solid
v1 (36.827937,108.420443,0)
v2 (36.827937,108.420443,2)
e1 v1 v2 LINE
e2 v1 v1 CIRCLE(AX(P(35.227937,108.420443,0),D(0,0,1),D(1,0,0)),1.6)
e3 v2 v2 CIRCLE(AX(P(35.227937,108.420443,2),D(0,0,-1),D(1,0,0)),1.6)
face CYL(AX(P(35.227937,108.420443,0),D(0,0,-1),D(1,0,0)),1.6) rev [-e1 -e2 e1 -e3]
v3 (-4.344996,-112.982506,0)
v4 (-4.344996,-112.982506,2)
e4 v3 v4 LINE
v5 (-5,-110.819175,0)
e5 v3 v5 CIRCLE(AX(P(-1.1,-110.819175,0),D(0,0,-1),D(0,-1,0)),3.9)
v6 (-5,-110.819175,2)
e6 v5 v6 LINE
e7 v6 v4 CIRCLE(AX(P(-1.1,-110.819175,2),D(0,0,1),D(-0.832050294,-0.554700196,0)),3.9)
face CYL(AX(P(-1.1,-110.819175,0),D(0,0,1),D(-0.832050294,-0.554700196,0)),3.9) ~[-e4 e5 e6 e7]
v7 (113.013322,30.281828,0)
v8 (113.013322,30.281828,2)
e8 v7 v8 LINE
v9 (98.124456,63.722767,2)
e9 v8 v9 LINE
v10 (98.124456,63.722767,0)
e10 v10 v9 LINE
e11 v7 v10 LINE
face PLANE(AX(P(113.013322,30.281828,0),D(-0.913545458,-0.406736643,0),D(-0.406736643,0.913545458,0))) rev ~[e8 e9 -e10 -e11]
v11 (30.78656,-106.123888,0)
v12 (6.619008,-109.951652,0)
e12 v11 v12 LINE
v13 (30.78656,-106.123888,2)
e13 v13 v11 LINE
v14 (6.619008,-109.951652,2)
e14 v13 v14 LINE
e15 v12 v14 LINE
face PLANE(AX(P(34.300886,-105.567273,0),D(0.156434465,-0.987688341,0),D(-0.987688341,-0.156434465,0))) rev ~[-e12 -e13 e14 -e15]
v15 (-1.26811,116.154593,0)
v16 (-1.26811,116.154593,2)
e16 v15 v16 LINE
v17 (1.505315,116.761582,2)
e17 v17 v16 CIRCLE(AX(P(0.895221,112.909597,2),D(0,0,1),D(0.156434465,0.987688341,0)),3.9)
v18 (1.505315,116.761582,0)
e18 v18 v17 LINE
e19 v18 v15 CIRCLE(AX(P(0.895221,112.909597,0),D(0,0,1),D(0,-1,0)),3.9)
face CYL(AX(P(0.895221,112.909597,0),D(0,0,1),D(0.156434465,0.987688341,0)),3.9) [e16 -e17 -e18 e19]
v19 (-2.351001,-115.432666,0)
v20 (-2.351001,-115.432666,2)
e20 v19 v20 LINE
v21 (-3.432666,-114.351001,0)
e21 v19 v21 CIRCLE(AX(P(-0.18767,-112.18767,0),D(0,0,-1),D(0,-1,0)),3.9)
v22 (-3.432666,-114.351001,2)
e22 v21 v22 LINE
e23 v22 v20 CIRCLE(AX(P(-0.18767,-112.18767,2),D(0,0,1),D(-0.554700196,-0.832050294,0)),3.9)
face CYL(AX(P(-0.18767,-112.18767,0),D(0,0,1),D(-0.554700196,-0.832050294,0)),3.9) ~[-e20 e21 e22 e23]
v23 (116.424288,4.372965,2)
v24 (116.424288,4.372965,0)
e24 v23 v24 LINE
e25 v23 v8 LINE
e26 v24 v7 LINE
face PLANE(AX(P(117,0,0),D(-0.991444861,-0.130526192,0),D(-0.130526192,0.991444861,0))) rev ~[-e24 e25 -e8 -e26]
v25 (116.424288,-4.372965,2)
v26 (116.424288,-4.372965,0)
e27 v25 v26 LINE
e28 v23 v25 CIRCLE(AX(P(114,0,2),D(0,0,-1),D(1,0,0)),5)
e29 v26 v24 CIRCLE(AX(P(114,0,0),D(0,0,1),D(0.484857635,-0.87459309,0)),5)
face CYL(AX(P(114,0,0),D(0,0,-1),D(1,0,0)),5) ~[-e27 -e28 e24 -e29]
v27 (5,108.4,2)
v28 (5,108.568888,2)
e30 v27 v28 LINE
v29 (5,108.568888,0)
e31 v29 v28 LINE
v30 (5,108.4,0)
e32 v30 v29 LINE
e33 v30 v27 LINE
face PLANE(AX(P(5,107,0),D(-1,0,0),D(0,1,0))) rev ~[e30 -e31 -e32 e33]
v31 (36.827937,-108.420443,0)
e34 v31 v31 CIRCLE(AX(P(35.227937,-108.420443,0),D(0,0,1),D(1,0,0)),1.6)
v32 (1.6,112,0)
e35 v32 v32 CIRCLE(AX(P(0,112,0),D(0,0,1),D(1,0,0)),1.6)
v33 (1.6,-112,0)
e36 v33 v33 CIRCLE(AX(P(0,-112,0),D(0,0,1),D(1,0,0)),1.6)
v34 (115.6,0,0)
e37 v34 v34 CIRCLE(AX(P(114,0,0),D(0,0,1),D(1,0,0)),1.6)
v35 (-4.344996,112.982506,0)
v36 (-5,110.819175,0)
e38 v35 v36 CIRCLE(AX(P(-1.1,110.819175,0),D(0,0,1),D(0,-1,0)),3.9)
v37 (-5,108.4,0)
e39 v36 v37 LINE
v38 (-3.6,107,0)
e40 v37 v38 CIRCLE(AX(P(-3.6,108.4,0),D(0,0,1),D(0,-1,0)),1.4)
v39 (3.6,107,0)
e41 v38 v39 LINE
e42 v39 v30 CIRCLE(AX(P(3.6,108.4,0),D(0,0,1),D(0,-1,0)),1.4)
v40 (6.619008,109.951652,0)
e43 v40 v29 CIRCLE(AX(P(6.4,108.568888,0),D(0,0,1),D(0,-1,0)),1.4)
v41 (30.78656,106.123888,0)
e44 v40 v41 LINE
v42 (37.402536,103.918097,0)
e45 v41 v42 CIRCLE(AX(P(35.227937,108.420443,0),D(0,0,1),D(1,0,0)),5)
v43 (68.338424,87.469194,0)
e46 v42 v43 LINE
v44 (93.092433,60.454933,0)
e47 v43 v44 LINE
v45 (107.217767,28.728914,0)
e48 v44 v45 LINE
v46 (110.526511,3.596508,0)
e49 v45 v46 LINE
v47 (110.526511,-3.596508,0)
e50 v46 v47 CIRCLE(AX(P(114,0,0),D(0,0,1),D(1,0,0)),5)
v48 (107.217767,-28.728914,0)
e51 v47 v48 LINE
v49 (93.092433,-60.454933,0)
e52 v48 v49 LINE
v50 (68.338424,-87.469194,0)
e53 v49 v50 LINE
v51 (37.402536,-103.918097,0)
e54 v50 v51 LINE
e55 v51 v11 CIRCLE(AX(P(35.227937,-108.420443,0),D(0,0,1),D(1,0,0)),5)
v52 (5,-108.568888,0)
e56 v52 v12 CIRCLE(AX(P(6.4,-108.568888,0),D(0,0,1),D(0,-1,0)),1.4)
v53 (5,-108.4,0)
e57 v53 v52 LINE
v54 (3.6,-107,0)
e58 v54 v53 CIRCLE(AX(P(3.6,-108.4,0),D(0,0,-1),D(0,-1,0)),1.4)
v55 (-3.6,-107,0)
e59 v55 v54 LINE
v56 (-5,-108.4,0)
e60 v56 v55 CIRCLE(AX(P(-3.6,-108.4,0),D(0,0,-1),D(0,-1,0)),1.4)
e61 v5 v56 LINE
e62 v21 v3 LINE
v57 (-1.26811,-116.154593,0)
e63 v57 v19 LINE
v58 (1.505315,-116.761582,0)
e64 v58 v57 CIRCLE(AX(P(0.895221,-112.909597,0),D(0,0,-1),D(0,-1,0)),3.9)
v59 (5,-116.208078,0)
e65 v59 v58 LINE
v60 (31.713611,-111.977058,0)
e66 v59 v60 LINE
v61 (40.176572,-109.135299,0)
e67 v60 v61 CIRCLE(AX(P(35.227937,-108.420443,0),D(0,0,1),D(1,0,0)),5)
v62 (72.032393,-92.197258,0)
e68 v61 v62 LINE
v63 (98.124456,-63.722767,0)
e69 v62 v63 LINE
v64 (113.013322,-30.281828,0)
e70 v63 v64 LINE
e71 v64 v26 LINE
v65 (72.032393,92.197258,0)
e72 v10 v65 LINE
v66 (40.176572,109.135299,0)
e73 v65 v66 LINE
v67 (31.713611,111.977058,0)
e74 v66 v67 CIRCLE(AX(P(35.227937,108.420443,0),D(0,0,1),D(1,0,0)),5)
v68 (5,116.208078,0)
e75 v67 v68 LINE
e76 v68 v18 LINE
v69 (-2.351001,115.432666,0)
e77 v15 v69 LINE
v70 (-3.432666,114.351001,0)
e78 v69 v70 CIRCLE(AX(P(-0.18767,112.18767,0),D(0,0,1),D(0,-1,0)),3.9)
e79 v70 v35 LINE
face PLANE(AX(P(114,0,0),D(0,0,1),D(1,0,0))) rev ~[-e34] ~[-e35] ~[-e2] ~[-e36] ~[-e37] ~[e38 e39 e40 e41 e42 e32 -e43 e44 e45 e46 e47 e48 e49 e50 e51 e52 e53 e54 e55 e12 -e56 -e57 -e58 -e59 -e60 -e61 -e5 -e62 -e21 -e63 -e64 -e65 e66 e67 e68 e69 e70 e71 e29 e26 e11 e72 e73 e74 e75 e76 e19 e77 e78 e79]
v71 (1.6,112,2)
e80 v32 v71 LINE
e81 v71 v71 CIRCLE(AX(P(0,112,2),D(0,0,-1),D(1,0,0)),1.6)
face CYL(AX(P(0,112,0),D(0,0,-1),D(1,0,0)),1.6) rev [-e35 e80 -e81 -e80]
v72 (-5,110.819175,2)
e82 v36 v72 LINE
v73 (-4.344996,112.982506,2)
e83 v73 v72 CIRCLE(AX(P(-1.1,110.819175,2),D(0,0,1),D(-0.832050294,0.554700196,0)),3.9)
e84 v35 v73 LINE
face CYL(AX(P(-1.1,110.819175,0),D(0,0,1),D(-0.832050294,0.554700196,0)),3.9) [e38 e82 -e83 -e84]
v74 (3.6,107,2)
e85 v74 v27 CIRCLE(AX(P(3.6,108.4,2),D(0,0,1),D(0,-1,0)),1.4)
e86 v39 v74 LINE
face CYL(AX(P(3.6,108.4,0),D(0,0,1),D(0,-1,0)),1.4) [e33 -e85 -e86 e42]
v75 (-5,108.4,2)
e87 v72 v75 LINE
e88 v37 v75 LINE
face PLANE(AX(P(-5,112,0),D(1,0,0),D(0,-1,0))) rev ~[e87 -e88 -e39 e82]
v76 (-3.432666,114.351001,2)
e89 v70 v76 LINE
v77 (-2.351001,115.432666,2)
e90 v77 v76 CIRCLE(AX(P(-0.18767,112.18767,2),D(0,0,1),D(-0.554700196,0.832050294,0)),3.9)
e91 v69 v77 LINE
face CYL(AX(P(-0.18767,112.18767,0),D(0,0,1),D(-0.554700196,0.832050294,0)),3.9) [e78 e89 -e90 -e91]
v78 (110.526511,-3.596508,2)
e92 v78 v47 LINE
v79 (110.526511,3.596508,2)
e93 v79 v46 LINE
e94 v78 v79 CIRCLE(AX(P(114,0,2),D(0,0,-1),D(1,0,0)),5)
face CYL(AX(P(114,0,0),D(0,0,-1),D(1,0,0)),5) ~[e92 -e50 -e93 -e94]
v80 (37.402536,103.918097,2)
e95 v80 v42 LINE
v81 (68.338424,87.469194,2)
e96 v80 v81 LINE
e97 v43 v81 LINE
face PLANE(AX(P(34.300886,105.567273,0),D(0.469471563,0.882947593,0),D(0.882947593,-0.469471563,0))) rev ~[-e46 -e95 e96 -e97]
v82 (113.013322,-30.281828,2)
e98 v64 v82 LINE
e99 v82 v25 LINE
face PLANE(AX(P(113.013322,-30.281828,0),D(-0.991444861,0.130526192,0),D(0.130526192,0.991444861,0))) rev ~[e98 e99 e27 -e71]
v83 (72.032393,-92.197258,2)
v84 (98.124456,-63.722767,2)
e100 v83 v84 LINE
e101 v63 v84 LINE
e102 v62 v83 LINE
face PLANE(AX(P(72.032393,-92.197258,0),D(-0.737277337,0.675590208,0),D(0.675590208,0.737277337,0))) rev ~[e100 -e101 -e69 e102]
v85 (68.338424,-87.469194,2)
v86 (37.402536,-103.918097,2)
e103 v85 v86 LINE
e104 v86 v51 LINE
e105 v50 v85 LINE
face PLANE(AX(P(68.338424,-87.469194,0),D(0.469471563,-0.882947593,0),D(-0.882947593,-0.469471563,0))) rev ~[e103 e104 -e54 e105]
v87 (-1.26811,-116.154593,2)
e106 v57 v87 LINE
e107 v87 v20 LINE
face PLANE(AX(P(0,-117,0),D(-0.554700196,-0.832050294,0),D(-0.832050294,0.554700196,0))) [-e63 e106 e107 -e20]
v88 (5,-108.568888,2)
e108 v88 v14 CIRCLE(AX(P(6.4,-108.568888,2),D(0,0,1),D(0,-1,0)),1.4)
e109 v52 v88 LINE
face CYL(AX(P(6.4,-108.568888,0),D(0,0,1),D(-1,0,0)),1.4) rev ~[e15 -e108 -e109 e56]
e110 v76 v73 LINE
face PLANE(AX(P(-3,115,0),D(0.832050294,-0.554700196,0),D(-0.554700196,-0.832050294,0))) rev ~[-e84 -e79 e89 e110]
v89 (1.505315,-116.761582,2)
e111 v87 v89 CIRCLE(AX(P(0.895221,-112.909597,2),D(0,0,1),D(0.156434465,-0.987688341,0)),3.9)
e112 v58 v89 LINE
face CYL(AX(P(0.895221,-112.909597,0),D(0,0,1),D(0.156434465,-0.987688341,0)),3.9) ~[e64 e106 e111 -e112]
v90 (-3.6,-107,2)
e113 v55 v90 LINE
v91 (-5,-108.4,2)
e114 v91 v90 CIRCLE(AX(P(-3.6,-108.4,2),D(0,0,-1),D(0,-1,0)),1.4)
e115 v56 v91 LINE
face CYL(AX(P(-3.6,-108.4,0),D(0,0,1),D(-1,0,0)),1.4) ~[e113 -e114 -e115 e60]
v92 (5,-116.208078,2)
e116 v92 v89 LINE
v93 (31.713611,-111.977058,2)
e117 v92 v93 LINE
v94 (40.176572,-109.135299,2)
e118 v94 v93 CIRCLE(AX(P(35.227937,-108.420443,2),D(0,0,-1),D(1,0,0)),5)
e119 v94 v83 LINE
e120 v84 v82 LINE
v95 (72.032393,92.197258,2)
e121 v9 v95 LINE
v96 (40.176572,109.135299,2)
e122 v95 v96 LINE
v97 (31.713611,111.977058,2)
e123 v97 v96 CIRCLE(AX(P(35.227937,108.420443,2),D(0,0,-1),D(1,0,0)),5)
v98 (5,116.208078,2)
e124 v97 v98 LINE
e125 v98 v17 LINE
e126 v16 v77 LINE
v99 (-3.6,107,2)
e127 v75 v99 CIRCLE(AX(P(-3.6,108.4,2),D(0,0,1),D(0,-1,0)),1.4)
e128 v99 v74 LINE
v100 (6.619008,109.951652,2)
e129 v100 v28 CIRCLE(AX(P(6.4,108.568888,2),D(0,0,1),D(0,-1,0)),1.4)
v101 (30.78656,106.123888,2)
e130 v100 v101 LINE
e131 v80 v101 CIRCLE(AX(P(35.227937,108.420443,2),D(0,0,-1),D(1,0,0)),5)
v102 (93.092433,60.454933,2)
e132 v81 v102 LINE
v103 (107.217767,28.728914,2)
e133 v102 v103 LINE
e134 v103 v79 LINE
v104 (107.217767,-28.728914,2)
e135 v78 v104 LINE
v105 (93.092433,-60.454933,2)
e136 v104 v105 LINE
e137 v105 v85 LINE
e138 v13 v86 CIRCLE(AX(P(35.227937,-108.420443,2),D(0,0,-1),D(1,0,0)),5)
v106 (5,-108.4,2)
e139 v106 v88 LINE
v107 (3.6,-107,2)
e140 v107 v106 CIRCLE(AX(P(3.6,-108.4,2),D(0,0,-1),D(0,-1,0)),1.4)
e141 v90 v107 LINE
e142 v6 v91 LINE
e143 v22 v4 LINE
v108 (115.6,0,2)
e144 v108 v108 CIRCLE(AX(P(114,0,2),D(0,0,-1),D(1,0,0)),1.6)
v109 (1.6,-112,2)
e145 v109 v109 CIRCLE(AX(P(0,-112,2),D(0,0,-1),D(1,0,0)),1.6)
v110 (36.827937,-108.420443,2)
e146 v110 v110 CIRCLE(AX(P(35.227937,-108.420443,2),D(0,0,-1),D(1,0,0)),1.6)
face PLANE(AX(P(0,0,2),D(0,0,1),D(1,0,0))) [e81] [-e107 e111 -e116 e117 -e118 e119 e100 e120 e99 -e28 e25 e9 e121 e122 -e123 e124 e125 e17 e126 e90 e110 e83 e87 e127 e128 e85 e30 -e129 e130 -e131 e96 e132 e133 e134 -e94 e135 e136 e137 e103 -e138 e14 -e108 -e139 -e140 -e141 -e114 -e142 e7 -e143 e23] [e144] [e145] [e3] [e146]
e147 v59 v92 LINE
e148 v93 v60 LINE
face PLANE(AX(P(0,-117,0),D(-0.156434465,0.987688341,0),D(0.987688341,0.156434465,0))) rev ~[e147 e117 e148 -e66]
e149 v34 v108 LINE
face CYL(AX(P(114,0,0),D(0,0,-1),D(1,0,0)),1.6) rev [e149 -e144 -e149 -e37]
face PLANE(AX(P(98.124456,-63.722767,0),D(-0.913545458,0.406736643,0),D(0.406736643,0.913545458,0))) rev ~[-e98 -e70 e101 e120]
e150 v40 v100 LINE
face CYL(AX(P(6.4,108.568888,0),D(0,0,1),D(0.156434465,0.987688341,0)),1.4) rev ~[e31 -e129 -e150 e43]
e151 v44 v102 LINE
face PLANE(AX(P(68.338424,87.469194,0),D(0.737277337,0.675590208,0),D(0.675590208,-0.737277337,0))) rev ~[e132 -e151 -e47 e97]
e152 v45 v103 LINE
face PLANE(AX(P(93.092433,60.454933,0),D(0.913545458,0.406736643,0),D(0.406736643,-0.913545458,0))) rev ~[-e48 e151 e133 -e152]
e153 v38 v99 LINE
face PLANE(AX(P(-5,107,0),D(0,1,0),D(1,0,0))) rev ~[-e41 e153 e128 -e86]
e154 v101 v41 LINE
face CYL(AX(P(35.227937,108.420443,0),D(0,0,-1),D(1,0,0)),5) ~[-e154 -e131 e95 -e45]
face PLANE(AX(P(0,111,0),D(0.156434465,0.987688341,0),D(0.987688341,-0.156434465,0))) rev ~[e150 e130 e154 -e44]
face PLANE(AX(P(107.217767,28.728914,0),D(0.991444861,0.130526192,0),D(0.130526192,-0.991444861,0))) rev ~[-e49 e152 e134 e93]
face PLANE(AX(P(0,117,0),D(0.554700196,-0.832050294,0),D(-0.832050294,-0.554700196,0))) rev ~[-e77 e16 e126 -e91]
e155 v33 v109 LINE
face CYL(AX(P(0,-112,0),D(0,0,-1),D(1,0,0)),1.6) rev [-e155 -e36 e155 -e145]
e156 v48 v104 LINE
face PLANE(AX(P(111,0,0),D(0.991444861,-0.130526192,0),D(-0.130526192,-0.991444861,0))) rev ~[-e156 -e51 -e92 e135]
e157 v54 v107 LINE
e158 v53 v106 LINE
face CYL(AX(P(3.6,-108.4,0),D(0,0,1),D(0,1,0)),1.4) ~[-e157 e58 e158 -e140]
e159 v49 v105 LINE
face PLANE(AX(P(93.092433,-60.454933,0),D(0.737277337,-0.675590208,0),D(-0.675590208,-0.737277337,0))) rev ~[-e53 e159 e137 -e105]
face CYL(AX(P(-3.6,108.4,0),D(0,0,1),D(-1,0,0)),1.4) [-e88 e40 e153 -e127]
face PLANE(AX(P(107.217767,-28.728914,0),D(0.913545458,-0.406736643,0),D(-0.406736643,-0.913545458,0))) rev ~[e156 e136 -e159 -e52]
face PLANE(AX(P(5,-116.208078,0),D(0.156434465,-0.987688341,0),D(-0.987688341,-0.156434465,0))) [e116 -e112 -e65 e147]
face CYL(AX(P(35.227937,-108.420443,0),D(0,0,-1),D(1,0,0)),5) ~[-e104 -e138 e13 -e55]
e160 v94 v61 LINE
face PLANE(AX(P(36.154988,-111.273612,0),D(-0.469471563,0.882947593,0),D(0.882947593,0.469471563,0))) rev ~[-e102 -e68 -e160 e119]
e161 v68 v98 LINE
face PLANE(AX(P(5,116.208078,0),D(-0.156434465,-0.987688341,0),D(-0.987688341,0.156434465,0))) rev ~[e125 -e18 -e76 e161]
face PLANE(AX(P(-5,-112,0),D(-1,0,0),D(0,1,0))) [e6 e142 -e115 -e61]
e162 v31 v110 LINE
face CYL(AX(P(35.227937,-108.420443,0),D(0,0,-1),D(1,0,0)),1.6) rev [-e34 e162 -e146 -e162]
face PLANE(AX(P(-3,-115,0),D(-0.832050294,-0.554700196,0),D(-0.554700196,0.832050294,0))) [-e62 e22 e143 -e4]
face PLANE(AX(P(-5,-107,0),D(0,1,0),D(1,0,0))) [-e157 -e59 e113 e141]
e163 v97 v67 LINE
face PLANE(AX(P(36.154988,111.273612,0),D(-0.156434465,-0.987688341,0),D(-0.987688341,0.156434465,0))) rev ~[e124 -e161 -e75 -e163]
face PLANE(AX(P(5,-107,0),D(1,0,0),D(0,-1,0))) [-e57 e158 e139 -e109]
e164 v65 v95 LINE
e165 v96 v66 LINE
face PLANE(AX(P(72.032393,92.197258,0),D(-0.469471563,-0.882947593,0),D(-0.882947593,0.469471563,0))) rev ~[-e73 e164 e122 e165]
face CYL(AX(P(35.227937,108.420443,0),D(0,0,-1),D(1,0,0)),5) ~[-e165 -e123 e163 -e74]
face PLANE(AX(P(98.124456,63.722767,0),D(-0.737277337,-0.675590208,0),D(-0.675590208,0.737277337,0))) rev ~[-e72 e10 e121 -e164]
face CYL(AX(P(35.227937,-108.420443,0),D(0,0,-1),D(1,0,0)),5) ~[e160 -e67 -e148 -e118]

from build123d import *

# Parameters (mm, degrees)
EXTRUDE_180_DEPTH      = 8
EXTRUDE_START          = 8
SKETCH_2_W             = 6
SKETCH_2_H             = 4
EXTRUDE_457_DEPTH      = 36
EXTRUDE_START_2        = 44
EXTRUDE_180_2_DEPTH    = 3
SKETCH_4_R             = 20
SKETCH_4_R_2           = 4
EXTRUDE_692_DEPTH      = 3
EXTRUDE_745_DEPTH      = 3
EXTRUDE_1_DEPTH        = 3
EXTRUDE_Y_1_DEPTH      = 3
EXTRUDE_1_2_DEPTH      = 3
EXTRUDE_Y_1_2_DEPTH    = 3
CUT_EXTRUDE_START      = 44
CUT_EXTRUDE_1134_DEPTH = 3
SKETCH_11_R            = 5
EXTRUDE_1203_DEPTH     = 3
EXTRUDE_1416_DEPTH     = 8
SKETCH_13_R            = 1.6
CUT_EXTRUDE_1487_DEPTH = 3
SKETCH_14_R            = 1.6
CUT_EXTRUDE_1548_DEPTH = 8
CUT_EXTRUDE_START_2    = 8
SKETCH_15_W            = 600
SKETCH_15_H            = 600
CUT_EXTRUDE_1608_DEPTH = 60
F_2MM_DEPTH            = 8
SKETCH_17_R            = 5
EXTRUDE_M3_DEPTH       = 8
SKETCH_18_R            = 5
EXTRUDE_3_DEPTH        = 8
SKETCH_19_R            = 5
EXTRUDE_4_DEPTH        = 8
SKETCH_20_R            = 1.6
CUT_EXTRUDE_M3_DEPTH   = 8
F_40MM_4MM_D6P2_START  = 4
SKETCH_21_R            = 3.1
F_40MM_4MM_D6P2_DEPTH  = 4
R3P9_R                 = 3.9
F_2MM_0_2_START        = 2
SKETCH_22_W            = 600
SKETCH_22_H            = 600
F_2MM_0_2_DEPTH        = 8
FILLET_4_R             = 1.4


with BuildPart() as part:
    # 草图1 → Extrude 180 (new body)
    with BuildSketch(Plane.XY):
        Polygon((0, -115), (35.536954353, -109.371499374), (70.801069662, -90.621236665), (96.447115314, -62.633489027), (111.081470023, -29.764190187), (115, 0), (111.081470023, 29.764190187), (96.447115314, 62.633489027), (70.801069662, 90.621236665), (35.536954353, 109.371499374), (0, 115), (0, 111), (34.300886376, 105.567273309), (68.338423761, 87.46919365), (93.092433042, 60.454932887), (107.217766718, 28.728914006), (111, 0), (107.217766718, -28.728914006), (93.092433042, -60.454932887), (68.338423761, -87.46919365), (34.300886376, -105.567273309), (0, -111), align=None)
    extrude(amount=EXTRUDE_180_DEPTH)

    # 草图2 → Extrude 457 (add)
    with BuildSketch(Plane.XY.offset(EXTRUDE_START)):
        Polygon((35.584965419, -103.047126287), (37.439067386, -108.753465385), (33.634841321, -109.989533363), (31.780739354, -104.283194265), align=None)
        with Locations((112, 0)):
            Rectangle(SKETCH_2_W, SKETCH_2_H)
        Polygon((31.780739354, 104.283194265), (33.634841321, 109.989533363), (37.439067386, 108.753465385), (35.584965419, 103.047126287), align=None)
    extrude(amount=EXTRUDE_457_DEPTH)

    # 草图3 → Extrude 180 2 (add)
    with BuildSketch(Plane.XY.offset(EXTRUDE_START_2)):
        Polygon((0, -115), (35.536954353, -109.371499374), (70.801069662, -90.621236665), (96.447115314, -62.633489027), (111.081470023, -29.764190187), (115, 0), (111.081470023, 29.764190187), (96.447115314, 62.633489027), (70.801069662, 90.621236665), (35.536954353, 109.371499374), (0, 115), (0, 109), (33.682852387, 103.665160276), (67.10710081, 85.893172143), (91.415091906, 59.365654817), (105.285915066, 28.211275916), (109, 0), (105.285915066, -28.211275916), (91.415091906, -59.365654817), (67.10710081, -85.893172143), (33.682852387, -103.665160276), (0, -109), align=None)
    extrude(amount=EXTRUDE_180_2_DEPTH)



with BuildPart() as body_2:
    # 草图4 → Extrude 692 (new body)
    with BuildSketch(Plane.XY.offset(EXTRUDE_START_2)):
        Circle(SKETCH_4_R)
        Circle(SKETCH_4_R_2, mode=Mode.SUBTRACT)
    extrude(amount=EXTRUDE_692_DEPTH)


with BuildPart() as part_1:
    add(part.part)

    add(body_2.part)  # Extrude 745 merges body 2
    # 草图5 → Extrude 745 (add)
    with BuildSketch(Plane.XY.offset(EXTRUDE_START_2)):
        Polygon((17, -9), (113, -2.5), (113, 2.5), (17, 9), align=None)
    extrude(amount=EXTRUDE_745_DEPTH)

    # 草图6 → Extrude 1 (add)
    with BuildSketch(Plane.XY.offset(EXTRUDE_START_2)):
        Polygon((-5.736735419, -8.734652509), (31.330903272, -107.096180364), (26.669096728, -108.903819636), (-12.263264581, -11.265347491), align=None)
    extrude(amount=EXTRUDE_1_DEPTH)

    # 草图7 → Extrude Y__-1 (add)
    with BuildSketch(Plane.XY.offset(EXTRUDE_START_2)):
        Polygon((60.213265383, 1.279918343), (91.234949037, -66.240061243), (87.165050963, -68.159938757), (54.786734617, -1.279918343), align=None)
    extrude(amount=EXTRUDE_Y_1_DEPTH)

    # 草图8 → Extrude 1 2 (add)
    with BuildSketch(Plane.XY.offset(EXTRUDE_START_2)):
        Polygon((-12.263264581, 11.265347491), (26.669096728, 108.903819636), (31.330903272, 107.096180364), (-5.736735419, 8.734652509), align=None)
    extrude(amount=EXTRUDE_1_2_DEPTH)

    # 草图9 → Extrude Y__1 2 (add)
    with BuildSketch(Plane.XY.offset(EXTRUDE_START_2)):
        Polygon((54.786734617, 1.279918343), (87.165050963, 68.159938757), (91.234949037, 66.240061243), (60.213265383, -1.279918343), align=None)
    extrude(amount=EXTRUDE_Y_1_2_DEPTH)

    # 草图10 → Cut-Extrude 1134 (cut)
    with BuildSketch(Plane.XY.offset(CUT_EXTRUDE_START)):
        Polygon((18, -4.5), (18, 4.5), (80.33, 0), align=None)
    extrude(amount=CUT_EXTRUDE_1134_DEPTH, mode=Mode.SUBTRACT)

    # 草图11 → Extrude 1203 (add)
    with BuildSketch(Plane.XY.offset(EXTRUDE_START_2)):
        with Locations((0, 112)):
            Circle(SKETCH_11_R)
        with Locations((0, -112)):
            Circle(SKETCH_11_R)
    extrude(amount=EXTRUDE_1203_DEPTH)

    # 草图12 → Extrude 1416 (add)
    with BuildSketch(Plane.XY):
        Polygon((-5, -107), (5, -107), (5, -116.208077798), (0, -117), (-3, -115), (-5, -112), align=None)
        Polygon((-5, 107), (5, 107), (5, 116.208077798), (0, 117), (-3, 115), (-5, 112), align=None)
    extrude(amount=EXTRUDE_1416_DEPTH)

    # 草图13 → Cut-Extrude 1487 (cut)
    with BuildSketch(Plane.XY.offset(CUT_EXTRUDE_START)):
        with Locations((13.435028843, 0)):
            Circle(SKETCH_13_R)
        with Locations((-13.435028843, 0)):
            Circle(SKETCH_13_R)
        with Locations((0, 13.435028843)):
            Circle(SKETCH_13_R)
        with Locations((0, -13.435028843)):
            Circle(SKETCH_13_R)
        with Locations((0, 112)):
            Circle(SKETCH_13_R)
        with Locations((0, -112)):
            Circle(SKETCH_13_R)
    extrude(amount=CUT_EXTRUDE_1487_DEPTH, mode=Mode.SUBTRACT)

    # 草图14 → Cut-Extrude 1548 (cut)
    with BuildSketch(Plane.XY):
        with Locations((0, 112)):
            Circle(SKETCH_14_R)
        with Locations((0, -112)):
            Circle(SKETCH_14_R)
    extrude(amount=CUT_EXTRUDE_1548_DEPTH, mode=Mode.SUBTRACT)

    # 草图15 → Cut-Extrude 1608 (cut)
    with BuildSketch(Plane.XY.offset(CUT_EXTRUDE_START_2)):
        Rectangle(SKETCH_15_W, SKETCH_15_H)
    extrude(amount=CUT_EXTRUDE_1608_DEPTH, mode=Mode.SUBTRACT)

    # 草图16 → 外圈径向加厚2mm (add)
    with BuildSketch(Plane.XY):
        Polygon((0, -117), (36.154988342, -111.273612407), (72.032392613, -92.197258172), (98.12445645, -63.722767097), (113.013321676, -30.281828277), (117, 0), (113.013321676, 30.281828277), (98.12445645, 63.722767097), (72.032392613, 92.197258172), (36.154988342, 111.273612407), (0, 117), (0, 114), (35.227937359, 108.420442858), (70.185408187, 89.833225911), (95.608444746, 62.088849992), (110.115544197, 29.505371142), (114, 0), (110.115544197, -29.505371142), (95.608444746, -62.088849992), (70.185408187, -89.833225911), (35.227937359, -108.420442858), (0, -114), align=None)
    extrude(amount=F_2MM_DEPTH)

    # 草图17 → M3铝柱下定位耳 (add)
    with BuildSketch(Plane.XY):
        with Locations((35.227937359, -108.420442858)):
            Circle(SKETCH_17_R)
    extrude(amount=EXTRUDE_M3_DEPTH)

    # 草图18 → 凸台-拉伸3 (add)
    with BuildSketch(Plane.XY):
        with Locations((114, 0)):
            Circle(SKETCH_18_R)
    extrude(amount=EXTRUDE_3_DEPTH)

    # 草图19 → 凸台-拉伸4 (add)
    with BuildSketch(Plane.XY):
        with Locations((35.227937359, 108.420442858)):
            Circle(SKETCH_19_R)
    extrude(amount=EXTRUDE_4_DEPTH)

    # 草图20 → 三处M3下层固定孔 (cut)
    with BuildSketch(Plane.XY):
        with Locations((35.227937359, -108.420442858)):
            Circle(SKETCH_20_R)
        with Locations((114, 0)):
            Circle(SKETCH_20_R)
        with Locations((35.227937359, 108.420442858)):
            Circle(SKETCH_20_R)
    extrude(amount=CUT_EXTRUDE_M3_DEPTH, mode=Mode.SUBTRACT)

    # 草图21 → 40mm铝柱沉座_深4mm_D6p2 (cut)
    with BuildSketch(Plane.XY.offset(F_40MM_4MM_D6P2_START)):
        with Locations((35.227937359, -108.420442858)):
            Circle(SKETCH_21_R)
        with Locations((114, 0)):
            Circle(SKETCH_21_R)
        with Locations((35.227937359, 108.420442858)):
            Circle(SKETCH_21_R)
    extrude(amount=F_40MM_4MM_D6P2_DEPTH, mode=Mode.SUBTRACT)

    # 下端耳外缘圆角_R3p9_轮廓内收
    r3p9_edges = [part_1.edges().sort_by_distance(p)[0] for p in [
        (-5, -112, 4),
        (-3, -115, 4),
        (0, -117, 4),
        (-5, 112, 4),
        (0, 117, 4),
        (-3, 115, 4),
    ]]
    fillet(r3p9_edges, radius=R3P9_R)

    # 草图22 → 统一2mm板厚_下层保留0至2 (cut)
    with BuildSketch(Plane.XY.offset(F_2MM_0_2_START)):
        Rectangle(SKETCH_22_W, SKETCH_22_H)
    extrude(amount=F_2MM_0_2_DEPTH, mode=Mode.SUBTRACT)

    # 圆角4
    fillet_4_edges = [part_1.edges().sort_by_distance(p)[0] for p in [
        (5, 110.208077798, 1),
        (5, 107, 1),
        (-5, 107, 1),
        (-5, -107, 1),
        (5, -107, 1),
        (5, -110.208077798, 1),
    ]]
    fillet(fillet_4_edges, radius=FILLET_4_R)


solid = part_1.part
